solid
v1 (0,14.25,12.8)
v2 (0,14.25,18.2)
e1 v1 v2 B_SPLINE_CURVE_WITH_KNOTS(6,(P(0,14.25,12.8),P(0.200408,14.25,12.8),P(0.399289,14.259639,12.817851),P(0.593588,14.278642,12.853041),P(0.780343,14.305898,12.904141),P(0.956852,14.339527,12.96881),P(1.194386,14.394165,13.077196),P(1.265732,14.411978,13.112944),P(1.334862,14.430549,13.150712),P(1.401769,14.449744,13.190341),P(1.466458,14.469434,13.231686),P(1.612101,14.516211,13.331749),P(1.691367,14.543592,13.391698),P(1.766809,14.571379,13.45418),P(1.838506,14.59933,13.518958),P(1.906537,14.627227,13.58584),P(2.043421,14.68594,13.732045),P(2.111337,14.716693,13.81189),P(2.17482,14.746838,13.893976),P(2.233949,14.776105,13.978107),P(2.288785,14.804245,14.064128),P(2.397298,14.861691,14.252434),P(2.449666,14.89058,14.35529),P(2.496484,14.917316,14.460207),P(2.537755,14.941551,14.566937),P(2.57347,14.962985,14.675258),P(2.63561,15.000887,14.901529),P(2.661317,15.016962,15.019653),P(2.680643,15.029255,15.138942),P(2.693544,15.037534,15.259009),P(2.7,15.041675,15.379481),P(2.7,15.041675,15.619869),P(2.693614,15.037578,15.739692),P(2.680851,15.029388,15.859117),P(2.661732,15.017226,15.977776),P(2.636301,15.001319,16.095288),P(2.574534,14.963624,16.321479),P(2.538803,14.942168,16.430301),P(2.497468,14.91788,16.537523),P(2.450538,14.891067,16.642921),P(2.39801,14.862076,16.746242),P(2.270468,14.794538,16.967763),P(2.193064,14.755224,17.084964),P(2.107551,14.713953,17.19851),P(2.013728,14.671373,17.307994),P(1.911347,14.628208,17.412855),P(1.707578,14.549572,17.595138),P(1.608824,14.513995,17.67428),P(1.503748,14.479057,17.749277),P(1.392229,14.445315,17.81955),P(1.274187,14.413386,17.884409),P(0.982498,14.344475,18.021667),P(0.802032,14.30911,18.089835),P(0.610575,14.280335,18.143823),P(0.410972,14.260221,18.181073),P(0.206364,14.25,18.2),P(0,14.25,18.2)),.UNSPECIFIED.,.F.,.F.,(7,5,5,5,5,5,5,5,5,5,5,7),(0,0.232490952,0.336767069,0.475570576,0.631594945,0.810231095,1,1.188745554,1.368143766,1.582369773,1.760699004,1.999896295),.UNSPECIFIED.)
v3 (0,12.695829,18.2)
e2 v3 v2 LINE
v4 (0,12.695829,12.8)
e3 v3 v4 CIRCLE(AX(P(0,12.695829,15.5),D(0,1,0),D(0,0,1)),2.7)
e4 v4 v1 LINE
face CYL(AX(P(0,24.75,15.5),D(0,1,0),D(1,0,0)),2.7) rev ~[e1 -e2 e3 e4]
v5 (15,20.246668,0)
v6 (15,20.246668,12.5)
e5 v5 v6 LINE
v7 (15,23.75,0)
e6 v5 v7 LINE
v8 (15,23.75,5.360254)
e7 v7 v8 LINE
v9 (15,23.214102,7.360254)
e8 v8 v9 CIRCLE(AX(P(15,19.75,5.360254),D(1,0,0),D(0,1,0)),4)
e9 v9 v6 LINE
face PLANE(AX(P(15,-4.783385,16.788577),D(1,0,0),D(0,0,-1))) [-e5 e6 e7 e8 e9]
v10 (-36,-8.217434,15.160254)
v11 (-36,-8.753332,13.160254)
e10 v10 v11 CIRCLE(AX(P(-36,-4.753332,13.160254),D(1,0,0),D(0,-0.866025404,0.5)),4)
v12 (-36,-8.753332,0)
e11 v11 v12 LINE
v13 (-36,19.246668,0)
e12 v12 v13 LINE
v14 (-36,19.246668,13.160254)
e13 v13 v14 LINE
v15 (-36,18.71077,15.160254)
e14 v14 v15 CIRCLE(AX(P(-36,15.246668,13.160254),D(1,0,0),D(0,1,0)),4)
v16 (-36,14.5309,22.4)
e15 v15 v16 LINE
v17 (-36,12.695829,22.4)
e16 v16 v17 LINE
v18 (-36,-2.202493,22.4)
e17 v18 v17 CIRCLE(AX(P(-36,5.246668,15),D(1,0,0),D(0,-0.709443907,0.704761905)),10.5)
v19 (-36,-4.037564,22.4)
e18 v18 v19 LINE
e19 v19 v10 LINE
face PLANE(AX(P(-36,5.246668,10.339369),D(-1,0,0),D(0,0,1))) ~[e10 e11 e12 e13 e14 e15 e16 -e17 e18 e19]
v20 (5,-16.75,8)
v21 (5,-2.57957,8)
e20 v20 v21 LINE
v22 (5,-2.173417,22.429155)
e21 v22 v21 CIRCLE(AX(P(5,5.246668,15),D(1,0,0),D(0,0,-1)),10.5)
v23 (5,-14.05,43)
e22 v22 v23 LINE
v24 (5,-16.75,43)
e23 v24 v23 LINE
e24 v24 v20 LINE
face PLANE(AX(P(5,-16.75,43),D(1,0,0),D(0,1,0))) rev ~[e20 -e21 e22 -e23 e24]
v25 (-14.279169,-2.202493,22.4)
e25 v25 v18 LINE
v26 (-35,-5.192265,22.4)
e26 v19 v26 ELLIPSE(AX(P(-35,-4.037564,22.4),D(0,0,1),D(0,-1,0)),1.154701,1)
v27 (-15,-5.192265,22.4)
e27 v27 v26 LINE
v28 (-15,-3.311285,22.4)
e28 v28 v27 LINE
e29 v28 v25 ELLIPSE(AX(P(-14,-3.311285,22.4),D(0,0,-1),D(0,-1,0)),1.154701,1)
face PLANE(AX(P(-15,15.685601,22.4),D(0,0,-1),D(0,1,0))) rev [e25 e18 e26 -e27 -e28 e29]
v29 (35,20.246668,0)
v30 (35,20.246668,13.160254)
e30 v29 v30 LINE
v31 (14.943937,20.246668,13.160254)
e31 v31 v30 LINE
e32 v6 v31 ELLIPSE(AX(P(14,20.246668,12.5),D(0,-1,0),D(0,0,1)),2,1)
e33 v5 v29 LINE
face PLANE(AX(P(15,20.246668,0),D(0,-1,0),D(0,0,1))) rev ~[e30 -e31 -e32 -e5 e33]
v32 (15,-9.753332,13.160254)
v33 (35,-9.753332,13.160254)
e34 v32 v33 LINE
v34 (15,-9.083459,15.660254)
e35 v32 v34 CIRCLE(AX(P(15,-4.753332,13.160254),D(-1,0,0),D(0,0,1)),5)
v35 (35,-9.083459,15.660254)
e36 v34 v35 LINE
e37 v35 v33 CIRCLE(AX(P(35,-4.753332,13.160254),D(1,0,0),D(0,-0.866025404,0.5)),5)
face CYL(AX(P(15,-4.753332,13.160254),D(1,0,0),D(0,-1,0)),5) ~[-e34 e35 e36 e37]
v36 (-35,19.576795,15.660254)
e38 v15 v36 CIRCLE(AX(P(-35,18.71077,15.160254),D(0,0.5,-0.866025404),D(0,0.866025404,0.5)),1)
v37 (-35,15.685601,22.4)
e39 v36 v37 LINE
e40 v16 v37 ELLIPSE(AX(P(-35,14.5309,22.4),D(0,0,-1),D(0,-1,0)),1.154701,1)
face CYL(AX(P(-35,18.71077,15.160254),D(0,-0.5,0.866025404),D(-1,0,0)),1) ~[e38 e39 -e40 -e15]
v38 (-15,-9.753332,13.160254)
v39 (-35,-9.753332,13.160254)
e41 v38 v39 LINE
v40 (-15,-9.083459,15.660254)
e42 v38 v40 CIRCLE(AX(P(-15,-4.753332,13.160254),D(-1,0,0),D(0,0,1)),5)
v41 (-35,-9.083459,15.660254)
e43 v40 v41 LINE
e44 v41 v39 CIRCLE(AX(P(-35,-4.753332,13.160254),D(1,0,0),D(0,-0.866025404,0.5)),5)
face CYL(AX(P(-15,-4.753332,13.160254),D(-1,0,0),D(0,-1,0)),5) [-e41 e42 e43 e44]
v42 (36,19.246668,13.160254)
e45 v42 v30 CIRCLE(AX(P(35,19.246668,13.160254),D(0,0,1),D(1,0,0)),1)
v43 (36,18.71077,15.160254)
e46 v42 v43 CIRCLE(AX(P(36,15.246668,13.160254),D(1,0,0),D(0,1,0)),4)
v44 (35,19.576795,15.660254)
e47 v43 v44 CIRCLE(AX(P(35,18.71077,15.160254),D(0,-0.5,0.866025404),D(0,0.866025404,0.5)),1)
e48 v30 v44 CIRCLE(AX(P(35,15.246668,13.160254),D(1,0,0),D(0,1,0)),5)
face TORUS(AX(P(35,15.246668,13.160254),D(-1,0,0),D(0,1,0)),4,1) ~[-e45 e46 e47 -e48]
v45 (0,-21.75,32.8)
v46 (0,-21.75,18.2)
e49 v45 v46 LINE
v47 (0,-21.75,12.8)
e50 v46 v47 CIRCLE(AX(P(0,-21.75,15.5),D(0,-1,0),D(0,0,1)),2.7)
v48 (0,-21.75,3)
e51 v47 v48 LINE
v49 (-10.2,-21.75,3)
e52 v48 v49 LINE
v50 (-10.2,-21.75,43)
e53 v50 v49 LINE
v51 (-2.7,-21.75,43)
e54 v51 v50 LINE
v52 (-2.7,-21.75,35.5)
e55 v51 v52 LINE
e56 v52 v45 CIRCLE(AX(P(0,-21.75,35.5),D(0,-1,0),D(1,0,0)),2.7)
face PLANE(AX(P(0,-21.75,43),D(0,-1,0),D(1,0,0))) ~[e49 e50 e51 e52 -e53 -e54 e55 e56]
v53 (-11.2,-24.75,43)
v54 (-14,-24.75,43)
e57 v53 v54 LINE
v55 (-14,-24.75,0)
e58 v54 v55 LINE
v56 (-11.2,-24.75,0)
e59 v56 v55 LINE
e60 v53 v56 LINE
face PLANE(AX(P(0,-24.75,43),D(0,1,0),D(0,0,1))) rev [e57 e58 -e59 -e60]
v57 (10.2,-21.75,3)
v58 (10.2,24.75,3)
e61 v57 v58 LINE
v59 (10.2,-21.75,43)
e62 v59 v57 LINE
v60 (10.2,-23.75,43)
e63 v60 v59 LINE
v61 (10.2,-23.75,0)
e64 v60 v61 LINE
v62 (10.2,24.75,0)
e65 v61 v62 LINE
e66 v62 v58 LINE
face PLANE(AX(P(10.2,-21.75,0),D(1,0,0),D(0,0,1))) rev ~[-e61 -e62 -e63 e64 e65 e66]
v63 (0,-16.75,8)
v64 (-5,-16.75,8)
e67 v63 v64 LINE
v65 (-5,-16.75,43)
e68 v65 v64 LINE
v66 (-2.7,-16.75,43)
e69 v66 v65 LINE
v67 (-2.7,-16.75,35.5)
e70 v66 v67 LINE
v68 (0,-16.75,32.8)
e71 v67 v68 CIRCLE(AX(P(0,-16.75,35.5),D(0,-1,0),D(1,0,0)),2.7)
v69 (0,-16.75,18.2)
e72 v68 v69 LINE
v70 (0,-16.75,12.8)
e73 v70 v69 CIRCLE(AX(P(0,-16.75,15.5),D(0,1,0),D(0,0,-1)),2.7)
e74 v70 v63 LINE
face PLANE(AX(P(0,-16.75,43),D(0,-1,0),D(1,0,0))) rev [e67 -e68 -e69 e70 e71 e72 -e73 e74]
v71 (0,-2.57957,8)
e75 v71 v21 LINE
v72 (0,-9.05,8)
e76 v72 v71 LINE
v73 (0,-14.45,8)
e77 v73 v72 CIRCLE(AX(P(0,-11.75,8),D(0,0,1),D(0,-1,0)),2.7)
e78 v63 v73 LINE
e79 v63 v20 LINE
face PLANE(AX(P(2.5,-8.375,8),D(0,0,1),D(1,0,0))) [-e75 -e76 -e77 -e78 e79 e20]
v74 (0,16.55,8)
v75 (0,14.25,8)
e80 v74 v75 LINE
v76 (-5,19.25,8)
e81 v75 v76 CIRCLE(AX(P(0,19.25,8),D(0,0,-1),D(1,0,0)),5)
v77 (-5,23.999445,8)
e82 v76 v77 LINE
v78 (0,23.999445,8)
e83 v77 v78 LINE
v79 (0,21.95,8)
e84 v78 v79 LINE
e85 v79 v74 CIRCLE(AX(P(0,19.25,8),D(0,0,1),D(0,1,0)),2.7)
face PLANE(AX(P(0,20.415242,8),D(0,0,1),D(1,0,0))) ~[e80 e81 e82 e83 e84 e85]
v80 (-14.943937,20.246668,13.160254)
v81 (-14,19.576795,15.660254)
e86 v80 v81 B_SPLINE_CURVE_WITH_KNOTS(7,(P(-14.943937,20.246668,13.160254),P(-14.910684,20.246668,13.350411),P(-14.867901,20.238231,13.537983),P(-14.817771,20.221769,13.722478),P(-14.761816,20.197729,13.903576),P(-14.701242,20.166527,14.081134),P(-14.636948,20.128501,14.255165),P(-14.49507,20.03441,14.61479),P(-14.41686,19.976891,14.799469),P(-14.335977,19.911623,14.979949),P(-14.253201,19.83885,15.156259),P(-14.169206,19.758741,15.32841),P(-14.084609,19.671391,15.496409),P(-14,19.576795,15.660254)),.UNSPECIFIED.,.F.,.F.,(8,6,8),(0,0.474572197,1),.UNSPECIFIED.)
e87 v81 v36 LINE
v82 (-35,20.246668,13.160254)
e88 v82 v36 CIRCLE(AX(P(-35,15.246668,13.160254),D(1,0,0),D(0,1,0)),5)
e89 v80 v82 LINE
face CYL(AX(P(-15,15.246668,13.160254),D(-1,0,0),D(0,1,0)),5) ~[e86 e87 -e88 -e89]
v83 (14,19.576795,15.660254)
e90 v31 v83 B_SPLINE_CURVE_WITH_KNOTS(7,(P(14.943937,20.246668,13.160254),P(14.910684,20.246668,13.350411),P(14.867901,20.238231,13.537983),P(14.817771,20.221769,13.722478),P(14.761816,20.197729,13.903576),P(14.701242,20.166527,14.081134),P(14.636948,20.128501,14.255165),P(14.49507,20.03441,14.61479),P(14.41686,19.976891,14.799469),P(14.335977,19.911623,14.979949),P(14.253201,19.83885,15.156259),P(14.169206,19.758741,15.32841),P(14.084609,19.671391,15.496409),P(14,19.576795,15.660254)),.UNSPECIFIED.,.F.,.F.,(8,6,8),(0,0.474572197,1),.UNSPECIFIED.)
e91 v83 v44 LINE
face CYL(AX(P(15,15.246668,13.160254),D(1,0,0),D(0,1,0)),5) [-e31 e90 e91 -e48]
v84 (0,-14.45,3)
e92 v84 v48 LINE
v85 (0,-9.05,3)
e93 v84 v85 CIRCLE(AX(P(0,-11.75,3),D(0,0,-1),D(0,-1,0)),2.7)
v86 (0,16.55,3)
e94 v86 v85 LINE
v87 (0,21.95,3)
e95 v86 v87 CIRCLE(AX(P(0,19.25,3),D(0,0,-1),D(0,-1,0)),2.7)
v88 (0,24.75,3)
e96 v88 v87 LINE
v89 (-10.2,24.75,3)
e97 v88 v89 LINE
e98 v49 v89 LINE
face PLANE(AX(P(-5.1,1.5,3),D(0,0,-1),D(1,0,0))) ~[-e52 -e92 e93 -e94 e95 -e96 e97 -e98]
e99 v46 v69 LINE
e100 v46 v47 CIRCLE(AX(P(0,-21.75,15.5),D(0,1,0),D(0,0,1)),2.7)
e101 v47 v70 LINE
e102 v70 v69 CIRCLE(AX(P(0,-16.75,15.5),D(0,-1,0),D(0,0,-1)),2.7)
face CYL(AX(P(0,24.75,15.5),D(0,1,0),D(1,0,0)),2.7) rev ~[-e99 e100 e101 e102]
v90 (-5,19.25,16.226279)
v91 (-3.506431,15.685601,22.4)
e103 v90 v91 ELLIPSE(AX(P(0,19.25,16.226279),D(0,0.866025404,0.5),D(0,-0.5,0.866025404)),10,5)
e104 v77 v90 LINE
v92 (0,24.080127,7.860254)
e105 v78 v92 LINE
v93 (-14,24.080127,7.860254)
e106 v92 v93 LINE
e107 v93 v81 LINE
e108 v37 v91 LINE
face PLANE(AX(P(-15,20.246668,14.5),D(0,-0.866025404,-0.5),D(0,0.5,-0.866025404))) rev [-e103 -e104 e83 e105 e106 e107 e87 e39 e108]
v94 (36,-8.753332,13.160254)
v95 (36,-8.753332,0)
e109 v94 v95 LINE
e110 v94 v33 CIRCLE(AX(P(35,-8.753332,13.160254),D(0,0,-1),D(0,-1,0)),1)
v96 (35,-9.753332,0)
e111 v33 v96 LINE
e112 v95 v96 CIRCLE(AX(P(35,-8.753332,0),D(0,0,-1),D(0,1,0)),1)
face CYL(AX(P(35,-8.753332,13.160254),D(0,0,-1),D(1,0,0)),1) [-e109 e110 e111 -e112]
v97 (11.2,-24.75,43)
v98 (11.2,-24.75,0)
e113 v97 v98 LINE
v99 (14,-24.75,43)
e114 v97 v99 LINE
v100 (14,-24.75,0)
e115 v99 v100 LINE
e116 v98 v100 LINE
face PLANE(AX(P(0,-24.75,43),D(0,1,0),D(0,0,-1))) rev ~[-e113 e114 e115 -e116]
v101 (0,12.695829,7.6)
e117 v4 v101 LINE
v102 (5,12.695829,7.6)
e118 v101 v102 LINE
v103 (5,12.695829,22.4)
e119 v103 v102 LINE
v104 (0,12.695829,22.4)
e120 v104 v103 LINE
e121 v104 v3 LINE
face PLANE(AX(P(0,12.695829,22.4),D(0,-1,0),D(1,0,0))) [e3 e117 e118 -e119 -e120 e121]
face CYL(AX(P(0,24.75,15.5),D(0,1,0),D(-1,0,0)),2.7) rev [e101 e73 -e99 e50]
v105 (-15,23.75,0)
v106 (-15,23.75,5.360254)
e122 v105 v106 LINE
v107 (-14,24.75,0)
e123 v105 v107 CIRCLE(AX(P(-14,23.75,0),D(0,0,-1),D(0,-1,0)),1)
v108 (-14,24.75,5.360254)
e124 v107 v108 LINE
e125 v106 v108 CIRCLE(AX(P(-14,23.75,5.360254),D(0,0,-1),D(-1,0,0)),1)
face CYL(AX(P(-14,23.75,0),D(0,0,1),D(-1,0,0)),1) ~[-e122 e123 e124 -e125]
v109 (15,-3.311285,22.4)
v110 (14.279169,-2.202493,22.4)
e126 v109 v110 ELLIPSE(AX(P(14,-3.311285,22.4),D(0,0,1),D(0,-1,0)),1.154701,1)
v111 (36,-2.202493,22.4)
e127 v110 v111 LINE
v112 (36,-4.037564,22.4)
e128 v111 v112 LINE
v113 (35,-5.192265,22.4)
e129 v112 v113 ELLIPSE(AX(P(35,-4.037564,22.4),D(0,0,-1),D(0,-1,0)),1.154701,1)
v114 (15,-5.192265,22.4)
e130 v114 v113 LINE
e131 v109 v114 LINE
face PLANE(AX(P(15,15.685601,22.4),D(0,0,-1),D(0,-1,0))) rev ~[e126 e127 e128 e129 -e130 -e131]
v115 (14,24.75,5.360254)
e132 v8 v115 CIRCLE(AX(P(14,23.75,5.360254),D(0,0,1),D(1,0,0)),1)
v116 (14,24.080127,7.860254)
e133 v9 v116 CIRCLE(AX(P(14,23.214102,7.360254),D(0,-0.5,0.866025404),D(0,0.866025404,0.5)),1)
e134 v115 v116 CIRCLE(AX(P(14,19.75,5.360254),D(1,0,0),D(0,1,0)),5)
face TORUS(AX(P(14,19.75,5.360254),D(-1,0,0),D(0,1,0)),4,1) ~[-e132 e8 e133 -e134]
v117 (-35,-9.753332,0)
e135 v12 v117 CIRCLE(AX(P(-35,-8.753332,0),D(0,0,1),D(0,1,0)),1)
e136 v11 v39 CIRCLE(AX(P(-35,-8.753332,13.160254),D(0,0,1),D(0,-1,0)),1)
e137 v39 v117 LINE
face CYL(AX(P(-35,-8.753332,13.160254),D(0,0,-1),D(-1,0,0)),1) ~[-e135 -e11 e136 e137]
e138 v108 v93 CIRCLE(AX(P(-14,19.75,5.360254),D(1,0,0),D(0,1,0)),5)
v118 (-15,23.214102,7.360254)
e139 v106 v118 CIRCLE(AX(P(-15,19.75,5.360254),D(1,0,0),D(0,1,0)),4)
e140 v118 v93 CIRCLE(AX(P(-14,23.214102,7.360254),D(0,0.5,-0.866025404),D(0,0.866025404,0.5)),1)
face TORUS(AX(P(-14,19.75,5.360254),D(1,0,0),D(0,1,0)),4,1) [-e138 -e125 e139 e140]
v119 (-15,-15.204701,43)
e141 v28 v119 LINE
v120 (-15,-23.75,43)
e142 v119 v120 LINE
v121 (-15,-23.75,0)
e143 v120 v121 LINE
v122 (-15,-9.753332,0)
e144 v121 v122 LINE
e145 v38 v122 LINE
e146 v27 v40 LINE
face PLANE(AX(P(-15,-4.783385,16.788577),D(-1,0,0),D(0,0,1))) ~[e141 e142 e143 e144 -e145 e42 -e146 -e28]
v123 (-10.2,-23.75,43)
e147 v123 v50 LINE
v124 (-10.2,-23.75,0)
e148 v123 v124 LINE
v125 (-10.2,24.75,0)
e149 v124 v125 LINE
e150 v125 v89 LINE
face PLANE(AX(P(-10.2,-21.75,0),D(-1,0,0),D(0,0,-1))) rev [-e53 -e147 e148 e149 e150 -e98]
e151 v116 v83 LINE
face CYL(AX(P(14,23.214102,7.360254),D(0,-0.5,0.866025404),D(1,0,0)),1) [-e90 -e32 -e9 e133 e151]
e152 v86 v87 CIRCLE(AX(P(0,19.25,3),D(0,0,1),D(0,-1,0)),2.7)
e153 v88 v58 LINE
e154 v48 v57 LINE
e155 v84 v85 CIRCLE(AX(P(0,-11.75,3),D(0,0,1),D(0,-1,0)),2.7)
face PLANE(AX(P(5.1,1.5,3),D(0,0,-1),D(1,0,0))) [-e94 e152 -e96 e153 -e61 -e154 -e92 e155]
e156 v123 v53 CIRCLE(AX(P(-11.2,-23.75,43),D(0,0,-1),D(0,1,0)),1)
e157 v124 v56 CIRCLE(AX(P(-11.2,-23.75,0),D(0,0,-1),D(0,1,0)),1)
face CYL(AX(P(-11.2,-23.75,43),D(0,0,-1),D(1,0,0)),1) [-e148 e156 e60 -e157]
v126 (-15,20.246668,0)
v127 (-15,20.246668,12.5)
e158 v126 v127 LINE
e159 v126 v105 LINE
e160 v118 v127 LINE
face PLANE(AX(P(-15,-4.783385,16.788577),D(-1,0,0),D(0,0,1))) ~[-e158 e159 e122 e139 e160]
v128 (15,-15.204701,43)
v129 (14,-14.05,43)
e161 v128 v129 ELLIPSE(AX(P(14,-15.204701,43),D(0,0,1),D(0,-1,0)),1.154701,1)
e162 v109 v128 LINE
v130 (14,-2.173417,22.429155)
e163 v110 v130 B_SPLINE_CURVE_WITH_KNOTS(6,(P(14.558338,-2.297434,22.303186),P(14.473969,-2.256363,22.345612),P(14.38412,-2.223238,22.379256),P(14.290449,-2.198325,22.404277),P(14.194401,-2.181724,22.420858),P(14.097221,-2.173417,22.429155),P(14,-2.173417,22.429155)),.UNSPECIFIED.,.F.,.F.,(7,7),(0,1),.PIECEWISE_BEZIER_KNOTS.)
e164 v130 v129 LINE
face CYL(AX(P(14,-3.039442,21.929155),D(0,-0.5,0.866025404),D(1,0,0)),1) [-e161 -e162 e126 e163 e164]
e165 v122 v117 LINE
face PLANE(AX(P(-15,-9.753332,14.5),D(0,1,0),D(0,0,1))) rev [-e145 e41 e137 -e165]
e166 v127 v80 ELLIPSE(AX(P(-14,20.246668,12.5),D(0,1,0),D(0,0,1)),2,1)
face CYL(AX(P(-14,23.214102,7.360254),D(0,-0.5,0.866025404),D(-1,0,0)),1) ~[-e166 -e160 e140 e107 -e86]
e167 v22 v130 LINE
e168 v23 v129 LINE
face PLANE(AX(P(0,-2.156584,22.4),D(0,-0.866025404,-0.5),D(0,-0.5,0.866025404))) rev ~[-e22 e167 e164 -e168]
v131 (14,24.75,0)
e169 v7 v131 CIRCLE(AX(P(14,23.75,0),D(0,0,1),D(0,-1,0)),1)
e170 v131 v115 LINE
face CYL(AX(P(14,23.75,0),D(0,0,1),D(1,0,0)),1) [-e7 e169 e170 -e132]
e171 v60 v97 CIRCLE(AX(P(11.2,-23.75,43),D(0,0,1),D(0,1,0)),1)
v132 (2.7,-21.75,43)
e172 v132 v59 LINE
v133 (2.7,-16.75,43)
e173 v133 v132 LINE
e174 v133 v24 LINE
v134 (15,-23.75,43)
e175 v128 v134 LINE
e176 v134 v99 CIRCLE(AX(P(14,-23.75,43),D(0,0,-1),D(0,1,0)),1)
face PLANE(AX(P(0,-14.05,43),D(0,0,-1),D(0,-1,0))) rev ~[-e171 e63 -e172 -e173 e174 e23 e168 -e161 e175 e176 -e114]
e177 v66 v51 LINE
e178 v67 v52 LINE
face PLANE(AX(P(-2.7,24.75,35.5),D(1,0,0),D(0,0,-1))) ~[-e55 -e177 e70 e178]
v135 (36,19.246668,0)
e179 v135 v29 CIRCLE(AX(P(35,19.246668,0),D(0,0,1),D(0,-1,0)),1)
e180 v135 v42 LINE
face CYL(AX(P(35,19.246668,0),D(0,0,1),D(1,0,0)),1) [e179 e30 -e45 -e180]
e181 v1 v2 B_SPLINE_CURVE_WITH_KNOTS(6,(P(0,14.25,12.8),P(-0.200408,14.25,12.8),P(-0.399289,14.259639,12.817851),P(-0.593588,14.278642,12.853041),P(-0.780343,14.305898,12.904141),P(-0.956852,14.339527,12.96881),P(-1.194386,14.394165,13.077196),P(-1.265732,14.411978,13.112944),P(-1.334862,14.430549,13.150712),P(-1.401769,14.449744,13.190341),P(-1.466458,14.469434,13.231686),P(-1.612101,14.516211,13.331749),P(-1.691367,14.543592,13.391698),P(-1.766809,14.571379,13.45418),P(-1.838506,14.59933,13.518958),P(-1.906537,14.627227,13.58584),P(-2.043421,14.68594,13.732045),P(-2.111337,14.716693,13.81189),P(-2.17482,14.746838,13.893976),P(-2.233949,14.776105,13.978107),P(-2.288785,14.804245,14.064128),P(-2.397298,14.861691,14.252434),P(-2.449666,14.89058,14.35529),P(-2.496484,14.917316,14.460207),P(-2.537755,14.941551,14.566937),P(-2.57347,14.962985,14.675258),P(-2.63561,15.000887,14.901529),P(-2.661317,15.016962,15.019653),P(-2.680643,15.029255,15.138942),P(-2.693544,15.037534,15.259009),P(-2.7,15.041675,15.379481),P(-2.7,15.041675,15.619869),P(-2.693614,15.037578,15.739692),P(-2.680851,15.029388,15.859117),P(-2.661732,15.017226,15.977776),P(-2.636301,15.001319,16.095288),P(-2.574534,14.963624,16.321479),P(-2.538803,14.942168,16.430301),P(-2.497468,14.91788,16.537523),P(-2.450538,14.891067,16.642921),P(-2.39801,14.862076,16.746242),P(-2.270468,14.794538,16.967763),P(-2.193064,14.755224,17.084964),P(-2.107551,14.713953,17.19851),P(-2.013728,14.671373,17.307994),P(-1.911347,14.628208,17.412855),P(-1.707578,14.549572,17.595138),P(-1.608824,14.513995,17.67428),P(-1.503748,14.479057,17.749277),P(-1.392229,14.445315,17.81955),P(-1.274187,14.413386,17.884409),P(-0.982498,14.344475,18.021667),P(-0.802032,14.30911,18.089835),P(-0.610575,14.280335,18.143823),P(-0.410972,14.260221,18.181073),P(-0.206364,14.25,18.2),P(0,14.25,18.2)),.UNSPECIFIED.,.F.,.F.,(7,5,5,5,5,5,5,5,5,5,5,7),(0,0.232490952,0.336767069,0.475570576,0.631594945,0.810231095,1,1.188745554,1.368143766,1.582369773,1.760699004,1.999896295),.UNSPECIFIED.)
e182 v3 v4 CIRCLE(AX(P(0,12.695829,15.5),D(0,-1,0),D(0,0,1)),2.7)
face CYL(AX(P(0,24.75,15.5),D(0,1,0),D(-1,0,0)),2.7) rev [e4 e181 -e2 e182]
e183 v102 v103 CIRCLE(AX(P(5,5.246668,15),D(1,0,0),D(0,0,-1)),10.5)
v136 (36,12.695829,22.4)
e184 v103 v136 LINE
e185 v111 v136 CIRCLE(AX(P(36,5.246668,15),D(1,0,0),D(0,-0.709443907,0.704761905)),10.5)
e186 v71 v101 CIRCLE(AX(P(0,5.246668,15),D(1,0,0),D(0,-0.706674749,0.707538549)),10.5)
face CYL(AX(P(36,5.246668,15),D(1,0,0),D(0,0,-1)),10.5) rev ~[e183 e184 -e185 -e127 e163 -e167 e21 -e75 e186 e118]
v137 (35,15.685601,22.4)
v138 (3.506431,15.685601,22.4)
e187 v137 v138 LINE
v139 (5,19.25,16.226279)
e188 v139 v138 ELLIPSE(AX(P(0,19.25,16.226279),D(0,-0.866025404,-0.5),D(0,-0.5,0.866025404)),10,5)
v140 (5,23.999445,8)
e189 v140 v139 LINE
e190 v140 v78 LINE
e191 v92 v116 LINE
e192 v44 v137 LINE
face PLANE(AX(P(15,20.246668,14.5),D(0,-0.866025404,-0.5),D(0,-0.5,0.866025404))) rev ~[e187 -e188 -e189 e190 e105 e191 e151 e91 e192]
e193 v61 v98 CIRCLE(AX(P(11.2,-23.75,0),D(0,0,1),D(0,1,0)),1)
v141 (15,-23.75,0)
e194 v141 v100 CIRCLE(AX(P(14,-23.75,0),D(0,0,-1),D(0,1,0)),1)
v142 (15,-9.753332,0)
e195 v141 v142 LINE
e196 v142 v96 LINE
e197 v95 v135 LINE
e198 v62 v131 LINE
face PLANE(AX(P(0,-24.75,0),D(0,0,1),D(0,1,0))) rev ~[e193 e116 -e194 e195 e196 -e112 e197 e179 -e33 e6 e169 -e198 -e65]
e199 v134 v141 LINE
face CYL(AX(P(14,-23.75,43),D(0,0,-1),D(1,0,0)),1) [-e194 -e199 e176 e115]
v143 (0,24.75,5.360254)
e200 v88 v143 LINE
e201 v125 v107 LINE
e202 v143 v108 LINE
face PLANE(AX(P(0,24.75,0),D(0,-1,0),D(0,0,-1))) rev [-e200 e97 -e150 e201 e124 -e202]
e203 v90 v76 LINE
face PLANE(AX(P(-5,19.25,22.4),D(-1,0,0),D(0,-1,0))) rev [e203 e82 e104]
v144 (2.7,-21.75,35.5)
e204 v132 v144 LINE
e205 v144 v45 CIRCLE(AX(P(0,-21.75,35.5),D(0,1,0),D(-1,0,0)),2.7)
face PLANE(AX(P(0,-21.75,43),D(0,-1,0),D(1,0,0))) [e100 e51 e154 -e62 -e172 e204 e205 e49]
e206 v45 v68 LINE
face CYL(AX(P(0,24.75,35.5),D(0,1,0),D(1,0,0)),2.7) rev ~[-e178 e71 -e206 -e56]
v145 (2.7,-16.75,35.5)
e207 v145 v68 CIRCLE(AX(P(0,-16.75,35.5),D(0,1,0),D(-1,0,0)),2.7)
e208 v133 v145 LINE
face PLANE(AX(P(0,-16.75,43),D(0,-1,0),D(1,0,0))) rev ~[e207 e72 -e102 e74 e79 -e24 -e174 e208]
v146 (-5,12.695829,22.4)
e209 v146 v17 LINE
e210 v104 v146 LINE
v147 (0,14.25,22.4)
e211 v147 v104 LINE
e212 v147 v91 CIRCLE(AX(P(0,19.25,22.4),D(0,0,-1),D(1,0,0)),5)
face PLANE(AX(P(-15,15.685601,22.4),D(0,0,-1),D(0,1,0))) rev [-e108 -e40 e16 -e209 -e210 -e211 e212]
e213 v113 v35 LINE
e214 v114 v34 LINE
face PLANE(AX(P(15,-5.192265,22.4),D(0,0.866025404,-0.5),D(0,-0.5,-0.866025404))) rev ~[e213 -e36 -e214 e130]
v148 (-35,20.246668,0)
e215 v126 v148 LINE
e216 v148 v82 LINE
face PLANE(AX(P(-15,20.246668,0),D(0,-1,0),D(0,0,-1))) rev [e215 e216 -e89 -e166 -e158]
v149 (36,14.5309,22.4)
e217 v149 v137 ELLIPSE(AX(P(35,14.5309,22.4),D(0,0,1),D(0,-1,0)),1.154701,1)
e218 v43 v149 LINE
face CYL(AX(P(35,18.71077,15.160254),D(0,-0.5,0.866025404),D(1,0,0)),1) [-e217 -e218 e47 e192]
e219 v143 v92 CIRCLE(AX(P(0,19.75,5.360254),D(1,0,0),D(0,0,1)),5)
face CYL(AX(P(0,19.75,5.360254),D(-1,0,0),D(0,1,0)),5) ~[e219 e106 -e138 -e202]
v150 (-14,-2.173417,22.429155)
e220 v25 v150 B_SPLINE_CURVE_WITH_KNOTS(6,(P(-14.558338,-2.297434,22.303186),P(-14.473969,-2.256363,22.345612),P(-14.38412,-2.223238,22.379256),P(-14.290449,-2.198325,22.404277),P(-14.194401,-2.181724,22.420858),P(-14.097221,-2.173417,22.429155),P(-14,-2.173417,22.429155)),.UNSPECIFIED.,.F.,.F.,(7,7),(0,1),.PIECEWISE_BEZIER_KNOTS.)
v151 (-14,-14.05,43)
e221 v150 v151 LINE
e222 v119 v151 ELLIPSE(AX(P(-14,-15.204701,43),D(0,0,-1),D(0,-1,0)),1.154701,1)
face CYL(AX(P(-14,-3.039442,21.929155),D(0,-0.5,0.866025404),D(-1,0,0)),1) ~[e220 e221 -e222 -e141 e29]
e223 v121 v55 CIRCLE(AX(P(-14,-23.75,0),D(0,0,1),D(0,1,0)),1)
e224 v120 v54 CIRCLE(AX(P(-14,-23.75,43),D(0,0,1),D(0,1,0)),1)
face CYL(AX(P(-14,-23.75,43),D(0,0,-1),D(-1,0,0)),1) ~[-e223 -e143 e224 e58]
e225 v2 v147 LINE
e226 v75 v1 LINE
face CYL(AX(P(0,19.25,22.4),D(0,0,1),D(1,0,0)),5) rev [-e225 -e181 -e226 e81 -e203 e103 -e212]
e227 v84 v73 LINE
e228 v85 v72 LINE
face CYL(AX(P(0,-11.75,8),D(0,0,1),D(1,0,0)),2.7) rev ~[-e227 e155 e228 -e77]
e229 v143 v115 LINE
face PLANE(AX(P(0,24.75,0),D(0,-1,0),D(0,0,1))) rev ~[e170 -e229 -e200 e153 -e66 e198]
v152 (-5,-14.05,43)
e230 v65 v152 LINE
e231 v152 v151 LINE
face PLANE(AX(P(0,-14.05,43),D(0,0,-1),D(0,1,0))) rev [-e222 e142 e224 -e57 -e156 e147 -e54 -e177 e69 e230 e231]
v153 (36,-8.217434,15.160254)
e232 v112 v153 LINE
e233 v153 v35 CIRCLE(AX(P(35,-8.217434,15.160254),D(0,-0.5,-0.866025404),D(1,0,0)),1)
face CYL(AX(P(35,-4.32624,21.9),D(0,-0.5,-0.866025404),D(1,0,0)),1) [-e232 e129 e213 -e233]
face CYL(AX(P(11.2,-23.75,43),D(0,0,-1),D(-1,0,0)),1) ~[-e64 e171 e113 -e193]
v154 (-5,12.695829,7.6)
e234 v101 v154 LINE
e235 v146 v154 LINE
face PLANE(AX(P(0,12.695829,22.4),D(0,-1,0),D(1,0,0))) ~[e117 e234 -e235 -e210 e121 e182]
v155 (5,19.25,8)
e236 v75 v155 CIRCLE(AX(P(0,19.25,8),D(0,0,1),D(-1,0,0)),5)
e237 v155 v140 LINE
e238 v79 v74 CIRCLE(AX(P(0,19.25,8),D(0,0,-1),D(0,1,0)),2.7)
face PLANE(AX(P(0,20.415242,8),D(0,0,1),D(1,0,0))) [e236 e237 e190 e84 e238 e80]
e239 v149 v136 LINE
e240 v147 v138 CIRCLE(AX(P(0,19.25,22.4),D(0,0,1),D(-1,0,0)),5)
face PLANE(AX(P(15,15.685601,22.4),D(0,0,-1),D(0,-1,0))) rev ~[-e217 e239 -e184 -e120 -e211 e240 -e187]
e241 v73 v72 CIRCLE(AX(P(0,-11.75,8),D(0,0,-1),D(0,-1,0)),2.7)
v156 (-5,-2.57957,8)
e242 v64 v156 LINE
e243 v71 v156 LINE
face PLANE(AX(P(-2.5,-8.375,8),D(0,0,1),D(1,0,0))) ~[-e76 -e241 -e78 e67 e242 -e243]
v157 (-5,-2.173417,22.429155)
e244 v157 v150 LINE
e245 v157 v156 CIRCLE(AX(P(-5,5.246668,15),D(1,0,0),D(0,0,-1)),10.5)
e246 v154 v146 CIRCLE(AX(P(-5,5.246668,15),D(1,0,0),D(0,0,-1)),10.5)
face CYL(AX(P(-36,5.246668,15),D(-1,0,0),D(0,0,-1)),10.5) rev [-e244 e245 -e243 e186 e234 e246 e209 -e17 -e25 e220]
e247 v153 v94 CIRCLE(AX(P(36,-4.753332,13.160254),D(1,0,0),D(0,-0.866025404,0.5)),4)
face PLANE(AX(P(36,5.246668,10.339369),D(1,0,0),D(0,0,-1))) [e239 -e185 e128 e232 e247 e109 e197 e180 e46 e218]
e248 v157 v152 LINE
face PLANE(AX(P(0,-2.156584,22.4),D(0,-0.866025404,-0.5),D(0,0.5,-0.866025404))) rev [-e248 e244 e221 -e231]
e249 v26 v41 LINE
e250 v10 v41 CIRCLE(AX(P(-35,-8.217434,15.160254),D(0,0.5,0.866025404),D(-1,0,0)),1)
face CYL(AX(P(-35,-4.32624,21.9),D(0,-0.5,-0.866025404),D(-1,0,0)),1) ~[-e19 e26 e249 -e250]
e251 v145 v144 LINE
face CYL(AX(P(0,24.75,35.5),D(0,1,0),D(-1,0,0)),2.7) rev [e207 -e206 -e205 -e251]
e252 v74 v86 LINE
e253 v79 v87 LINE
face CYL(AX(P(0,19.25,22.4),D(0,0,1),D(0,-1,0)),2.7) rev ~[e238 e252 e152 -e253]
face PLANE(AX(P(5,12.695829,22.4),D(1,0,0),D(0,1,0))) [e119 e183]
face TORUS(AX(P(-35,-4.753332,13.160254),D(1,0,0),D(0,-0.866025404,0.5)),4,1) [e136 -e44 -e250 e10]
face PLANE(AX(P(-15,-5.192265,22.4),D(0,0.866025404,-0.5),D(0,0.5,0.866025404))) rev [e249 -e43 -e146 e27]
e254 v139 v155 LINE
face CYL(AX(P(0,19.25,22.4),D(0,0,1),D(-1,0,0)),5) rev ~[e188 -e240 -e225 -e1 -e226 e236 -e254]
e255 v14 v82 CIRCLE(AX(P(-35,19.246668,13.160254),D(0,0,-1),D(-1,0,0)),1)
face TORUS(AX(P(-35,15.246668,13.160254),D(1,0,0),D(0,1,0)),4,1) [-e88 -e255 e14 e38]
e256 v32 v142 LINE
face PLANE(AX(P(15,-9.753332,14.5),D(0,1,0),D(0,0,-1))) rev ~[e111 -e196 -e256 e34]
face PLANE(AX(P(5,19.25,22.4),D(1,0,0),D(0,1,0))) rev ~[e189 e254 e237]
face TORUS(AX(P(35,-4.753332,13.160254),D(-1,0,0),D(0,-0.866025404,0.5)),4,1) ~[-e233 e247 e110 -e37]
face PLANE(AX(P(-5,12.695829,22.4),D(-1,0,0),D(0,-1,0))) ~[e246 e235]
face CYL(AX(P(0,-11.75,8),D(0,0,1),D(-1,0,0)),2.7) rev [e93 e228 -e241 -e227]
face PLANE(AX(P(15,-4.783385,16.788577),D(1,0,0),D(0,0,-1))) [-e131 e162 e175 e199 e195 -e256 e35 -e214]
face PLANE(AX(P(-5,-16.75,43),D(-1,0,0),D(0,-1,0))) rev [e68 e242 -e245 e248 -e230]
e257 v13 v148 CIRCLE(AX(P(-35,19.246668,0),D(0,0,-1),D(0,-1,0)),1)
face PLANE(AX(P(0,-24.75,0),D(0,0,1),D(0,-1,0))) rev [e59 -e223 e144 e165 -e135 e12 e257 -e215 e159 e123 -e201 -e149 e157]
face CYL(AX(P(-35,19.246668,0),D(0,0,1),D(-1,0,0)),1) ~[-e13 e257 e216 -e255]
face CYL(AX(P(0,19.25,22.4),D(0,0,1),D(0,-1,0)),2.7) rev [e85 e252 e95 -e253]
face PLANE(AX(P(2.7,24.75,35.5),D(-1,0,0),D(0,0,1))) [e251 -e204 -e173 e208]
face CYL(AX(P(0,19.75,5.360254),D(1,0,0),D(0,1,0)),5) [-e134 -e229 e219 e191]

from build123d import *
from build123d.topology import SkipClean

# Parameters (mm, degrees)
BOSS_EXTRUDE1_DEPTH = 15
BOSS_EXTRUDE2_DEPTH = 21
SKETCH4_W           = 10.2
SKETCH4_H           = 2.9999999999999964
CUT_EXTRUDE1_DEPTH  = 62.298960023804646
SKETCH9_R           = 10.5
CUT_EXTRUDE6_DEPTH  = 62.298960023804646
SKETCH5_W           = 10.2
SKETCH5_H           = 3
CUT_EXTRUDE2_DEPTH  = 73.85087508053697
BOSS_EXTRUDE4_REACH = 51.095
SKETCH10_W          = 5
SKETCH10_H          = 5.5837661042678555
CUT_EXTRUDE7_DEPTH  = 5
SKETCH6_R           = 2.7
CUT_EXTRUDE3_DEPTH  = 14.4
CUT_EXTRUDE4_DEPTH  = 50.09503539055656
SKETCH8_W           = 5
SKETCH8_H           = 16.75
CUT_EXTRUDE5_DEPTH  = 35
SKETCH12_R          = 2.7
CUT_EXTRUDE8_DEPTH  = 5
SKETCH13_R          = 2.7
CUT_EXTRUDE9_DEPTH  = 75.801403730144
FILLET1_R           = 5
FILLET2_R           = 1


with BuildPart() as part:
    # Sketch2 → Boss-Extrude1 (new body)
    with BuildSketch(Plane(origin=(0, 0, 0), x_dir=(0, 0, -1), z_dir=(1, 0, 0))):
        Polygon((0, 24.75), (-6.7, 24.75), (-22.4, 15.685600773722843), (-22.399999999999995, -2.156584454693771), (-43, -14.050000000000002), (-43, -24.75), (0, -24.75), align=None)
    extrude(amount=BOSS_EXTRUDE1_DEPTH)

    # Sketch3 → Boss-Extrude2 (add)
    with BuildSketch(Plane(origin=(15, 0, 0), x_dir=(0, 0, -1), z_dir=(1, 0, 0))):
        Polygon((-22.4, 15.685600773722843), (-22.4, -5.192264973080983), (-14.5, -9.753332099679069), (0, -9.753332099679069), (0, 20.246667900320933), (-14.5, 20.246667900320933), align=None)
    extrude(amount=BOSS_EXTRUDE2_DEPTH)

    # Sketch4 → Cut-Extrude1 (cut, through all)
    with BuildSketch(Plane.XY.offset(43)):
        with Locations((5.1, -23.25)):
            Rectangle(SKETCH4_W, SKETCH4_H)
    extrude(amount=-CUT_EXTRUDE1_DEPTH, mode=Mode.SUBTRACT)

    # Sketch9 → Cut-Extrude6 (cut, through all)
    with BuildSketch(Plane(origin=(36.00000000000001, 0, 0), x_dir=(0, 0, -1), z_dir=(1, 0, 0))):
        with Locations((-15, 5.24666790032093)):
            Circle(SKETCH9_R)
    extrude(amount=-CUT_EXTRUDE6_DEPTH, mode=Mode.SUBTRACT)

    # Sketch5 → Cut-Extrude2 (cut, through all)
    with BuildSketch(Plane.XZ.offset(21.750000000000004)):
        with Locations((5.1, 1.5)):
            Rectangle(SKETCH5_W, SKETCH5_H)
    extrude(amount=-CUT_EXTRUDE2_DEPTH, mode=Mode.SUBTRACT)

    # Boss-Extrude4: up to this face of the body (flat: up to its plane)
    boss_extrude4_end = Plane(part.part.faces().sort_by_distance((5.1, 1.5, 3))[0])
    # Sketch10 → Boss-Extrude4 (add, up to the picked face)
    with BuildSketch(Plane.XY.offset(22.399999999999995), mode=Mode.PRIVATE) as boss_extrude4_sk1:
        with Locations((2.5, 15.48771197904034)):
            Rectangle(SKETCH10_W, SKETCH10_H)
    boss_extrude4_tool1 = split(extrude(boss_extrude4_sk1.sketch, amount=-BOSS_EXTRUDE4_REACH, mode=Mode.PRIVATE), bisect_by=boss_extrude4_end, keep=Keep.BOTH, mode=Mode.PRIVATE)
    add(boss_extrude4_tool1.solids().sort_by(Axis((2.5, 15.487712, 22.4), (0, 0, -1)))[0])

    # Sketch11 → Cut-Extrude7 (cut)
    with BuildSketch(Plane(origin=(5, 0, 0), x_dir=(0, 0, -1), z_dir=(1, 0, 0))):
        Polygon((-22.399999999999995, 15.685600773722847), (-17.907070151552254, 18.279595031174264), (-22.399999999999995, 18.279595031174264), align=None)
    extrude(amount=-CUT_EXTRUDE7_DEPTH, mode=Mode.SUBTRACT)

    # Sketch6 → Cut-Extrude3 (cut)
    with BuildSketch(Plane.XY.offset(22.399999999999995)):
        with BuildLine():
            Line((5, 19.250000000000004), (5.000000000000001, 24.750000000000004))
            Line((5.000000000000001, 24.750000000000004), (-5, 24.750000000000004))
            Line((-5, 24.750000000000004), (-5, 19.250000000000004))
            ThreePointArc((-5, 19.250000000000004), (-9.2e-16, 14.250000000000004), (5, 19.250000000000004))
        make_face()
        with Locations((0, 19.250000000000004)):
            Circle(SKETCH6_R, mode=Mode.SUBTRACT)
    extrude(amount=-CUT_EXTRUDE3_DEPTH, mode=Mode.SUBTRACT)

    # Sketch7 → Cut-Extrude4 (cut, through all)
    with BuildSketch(Plane.XY.offset(22.399999999999995)):
        with BuildLine():
            Line((0, 21.950000000000006), (0, 16.549999999999997))
            ThreePointArc((0, 16.549999999999997), (2.7000000000000064, 19.250000000000004), (0, 21.950000000000006))
        make_face()
    extrude(amount=-CUT_EXTRUDE4_DEPTH, mode=Mode.SUBTRACT)

    # Sketch8 → Cut-Extrude5 (cut)
    with BuildSketch(Plane.XY.offset(43)):
        with Locations((2.5, -8.375)):
            Rectangle(SKETCH8_W, SKETCH8_H)
    extrude(amount=-CUT_EXTRUDE5_DEPTH, mode=Mode.SUBTRACT)

    # Sketch12 → Cut-Extrude8 (cut)
    with BuildSketch(Plane.XY.offset(8)):
        with Locations((0, -11.750000000000002)):
            Circle(SKETCH12_R)
    extrude(amount=-CUT_EXTRUDE8_DEPTH, mode=Mode.SUBTRACT)

    # Sketch13 → Cut-Extrude9 (cut, through all)
    with BuildSketch(Plane(origin=(0, 24.75, 0), x_dir=(1, 0, 0), z_dir=(0, 1, 0))):
        with Locations((0, -15.5)):
            Circle(SKETCH13_R)
        with BuildLine():
            Line((2.7, -35.5), (2.7000000000000006, -43))
            Line((2.7000000000000006, -43), (-2.7000000000000006, -43))
            Line((-2.7000000000000006, -43), (-2.7, -35.5))
            ThreePointArc((-2.7, -35.5), (1.7e-16, -32.8), (2.7, -35.5))
        make_face()
    extrude(amount=-CUT_EXTRUDE9_DEPTH, mode=Mode.SUBTRACT)

    # Fillet1
    fillet1_edges = [part.edges().sort_by_distance(p)[0] for p in [
        (25.5, 20.246667900320933, 14.5),
        (25.5, -9.753332099679069, 14.5),
        (7.5, 24.75, 6.7),
    ]]
    fillet(fillet1_edges, radius=FILLET1_R)

    # Fillet2
    fillet2_edges = [part.edges().sort_by_distance(p)[0] for p in [
        (15, 24.75, 2.6801270189221915),
        (15, 24.57962913144534, 6.654349263356993),
        (36, 20.246667900320933, 6.580127018922168),
        (36, 20.07629703176627, 14.454349263356942),
        (36, -9.753332099679069, 6.5801270189221865),
        (36, -9.582961231124408, 14.454349263356988),
        (15, 21.828460969082656, 11.760254037844366),
        (36, 17.63119784648299, 19.030127018922176),
        (36, -7.137862045841118, 19.030127018922194),
        (10.2, -24.75, 21.5),
        (15, -24.75, 21.5),
        (15, -8.11170848370516, 32.71457738362205),
    ]]
    fillet(fillet2_edges, radius=FILLET2_R)

    # Mirror1: part across plane


with BuildPart() as part_1:
    with SkipClean():  # the faces are left unmerged after this step: merging them gives an invalid solid
        add(part.part)
        add(part.part.mirror(Plane(origin=(0, 0, 0), x_dir=(0, 0, 1), z_dir=(1, 0, 0))))


solid = part_1.part
